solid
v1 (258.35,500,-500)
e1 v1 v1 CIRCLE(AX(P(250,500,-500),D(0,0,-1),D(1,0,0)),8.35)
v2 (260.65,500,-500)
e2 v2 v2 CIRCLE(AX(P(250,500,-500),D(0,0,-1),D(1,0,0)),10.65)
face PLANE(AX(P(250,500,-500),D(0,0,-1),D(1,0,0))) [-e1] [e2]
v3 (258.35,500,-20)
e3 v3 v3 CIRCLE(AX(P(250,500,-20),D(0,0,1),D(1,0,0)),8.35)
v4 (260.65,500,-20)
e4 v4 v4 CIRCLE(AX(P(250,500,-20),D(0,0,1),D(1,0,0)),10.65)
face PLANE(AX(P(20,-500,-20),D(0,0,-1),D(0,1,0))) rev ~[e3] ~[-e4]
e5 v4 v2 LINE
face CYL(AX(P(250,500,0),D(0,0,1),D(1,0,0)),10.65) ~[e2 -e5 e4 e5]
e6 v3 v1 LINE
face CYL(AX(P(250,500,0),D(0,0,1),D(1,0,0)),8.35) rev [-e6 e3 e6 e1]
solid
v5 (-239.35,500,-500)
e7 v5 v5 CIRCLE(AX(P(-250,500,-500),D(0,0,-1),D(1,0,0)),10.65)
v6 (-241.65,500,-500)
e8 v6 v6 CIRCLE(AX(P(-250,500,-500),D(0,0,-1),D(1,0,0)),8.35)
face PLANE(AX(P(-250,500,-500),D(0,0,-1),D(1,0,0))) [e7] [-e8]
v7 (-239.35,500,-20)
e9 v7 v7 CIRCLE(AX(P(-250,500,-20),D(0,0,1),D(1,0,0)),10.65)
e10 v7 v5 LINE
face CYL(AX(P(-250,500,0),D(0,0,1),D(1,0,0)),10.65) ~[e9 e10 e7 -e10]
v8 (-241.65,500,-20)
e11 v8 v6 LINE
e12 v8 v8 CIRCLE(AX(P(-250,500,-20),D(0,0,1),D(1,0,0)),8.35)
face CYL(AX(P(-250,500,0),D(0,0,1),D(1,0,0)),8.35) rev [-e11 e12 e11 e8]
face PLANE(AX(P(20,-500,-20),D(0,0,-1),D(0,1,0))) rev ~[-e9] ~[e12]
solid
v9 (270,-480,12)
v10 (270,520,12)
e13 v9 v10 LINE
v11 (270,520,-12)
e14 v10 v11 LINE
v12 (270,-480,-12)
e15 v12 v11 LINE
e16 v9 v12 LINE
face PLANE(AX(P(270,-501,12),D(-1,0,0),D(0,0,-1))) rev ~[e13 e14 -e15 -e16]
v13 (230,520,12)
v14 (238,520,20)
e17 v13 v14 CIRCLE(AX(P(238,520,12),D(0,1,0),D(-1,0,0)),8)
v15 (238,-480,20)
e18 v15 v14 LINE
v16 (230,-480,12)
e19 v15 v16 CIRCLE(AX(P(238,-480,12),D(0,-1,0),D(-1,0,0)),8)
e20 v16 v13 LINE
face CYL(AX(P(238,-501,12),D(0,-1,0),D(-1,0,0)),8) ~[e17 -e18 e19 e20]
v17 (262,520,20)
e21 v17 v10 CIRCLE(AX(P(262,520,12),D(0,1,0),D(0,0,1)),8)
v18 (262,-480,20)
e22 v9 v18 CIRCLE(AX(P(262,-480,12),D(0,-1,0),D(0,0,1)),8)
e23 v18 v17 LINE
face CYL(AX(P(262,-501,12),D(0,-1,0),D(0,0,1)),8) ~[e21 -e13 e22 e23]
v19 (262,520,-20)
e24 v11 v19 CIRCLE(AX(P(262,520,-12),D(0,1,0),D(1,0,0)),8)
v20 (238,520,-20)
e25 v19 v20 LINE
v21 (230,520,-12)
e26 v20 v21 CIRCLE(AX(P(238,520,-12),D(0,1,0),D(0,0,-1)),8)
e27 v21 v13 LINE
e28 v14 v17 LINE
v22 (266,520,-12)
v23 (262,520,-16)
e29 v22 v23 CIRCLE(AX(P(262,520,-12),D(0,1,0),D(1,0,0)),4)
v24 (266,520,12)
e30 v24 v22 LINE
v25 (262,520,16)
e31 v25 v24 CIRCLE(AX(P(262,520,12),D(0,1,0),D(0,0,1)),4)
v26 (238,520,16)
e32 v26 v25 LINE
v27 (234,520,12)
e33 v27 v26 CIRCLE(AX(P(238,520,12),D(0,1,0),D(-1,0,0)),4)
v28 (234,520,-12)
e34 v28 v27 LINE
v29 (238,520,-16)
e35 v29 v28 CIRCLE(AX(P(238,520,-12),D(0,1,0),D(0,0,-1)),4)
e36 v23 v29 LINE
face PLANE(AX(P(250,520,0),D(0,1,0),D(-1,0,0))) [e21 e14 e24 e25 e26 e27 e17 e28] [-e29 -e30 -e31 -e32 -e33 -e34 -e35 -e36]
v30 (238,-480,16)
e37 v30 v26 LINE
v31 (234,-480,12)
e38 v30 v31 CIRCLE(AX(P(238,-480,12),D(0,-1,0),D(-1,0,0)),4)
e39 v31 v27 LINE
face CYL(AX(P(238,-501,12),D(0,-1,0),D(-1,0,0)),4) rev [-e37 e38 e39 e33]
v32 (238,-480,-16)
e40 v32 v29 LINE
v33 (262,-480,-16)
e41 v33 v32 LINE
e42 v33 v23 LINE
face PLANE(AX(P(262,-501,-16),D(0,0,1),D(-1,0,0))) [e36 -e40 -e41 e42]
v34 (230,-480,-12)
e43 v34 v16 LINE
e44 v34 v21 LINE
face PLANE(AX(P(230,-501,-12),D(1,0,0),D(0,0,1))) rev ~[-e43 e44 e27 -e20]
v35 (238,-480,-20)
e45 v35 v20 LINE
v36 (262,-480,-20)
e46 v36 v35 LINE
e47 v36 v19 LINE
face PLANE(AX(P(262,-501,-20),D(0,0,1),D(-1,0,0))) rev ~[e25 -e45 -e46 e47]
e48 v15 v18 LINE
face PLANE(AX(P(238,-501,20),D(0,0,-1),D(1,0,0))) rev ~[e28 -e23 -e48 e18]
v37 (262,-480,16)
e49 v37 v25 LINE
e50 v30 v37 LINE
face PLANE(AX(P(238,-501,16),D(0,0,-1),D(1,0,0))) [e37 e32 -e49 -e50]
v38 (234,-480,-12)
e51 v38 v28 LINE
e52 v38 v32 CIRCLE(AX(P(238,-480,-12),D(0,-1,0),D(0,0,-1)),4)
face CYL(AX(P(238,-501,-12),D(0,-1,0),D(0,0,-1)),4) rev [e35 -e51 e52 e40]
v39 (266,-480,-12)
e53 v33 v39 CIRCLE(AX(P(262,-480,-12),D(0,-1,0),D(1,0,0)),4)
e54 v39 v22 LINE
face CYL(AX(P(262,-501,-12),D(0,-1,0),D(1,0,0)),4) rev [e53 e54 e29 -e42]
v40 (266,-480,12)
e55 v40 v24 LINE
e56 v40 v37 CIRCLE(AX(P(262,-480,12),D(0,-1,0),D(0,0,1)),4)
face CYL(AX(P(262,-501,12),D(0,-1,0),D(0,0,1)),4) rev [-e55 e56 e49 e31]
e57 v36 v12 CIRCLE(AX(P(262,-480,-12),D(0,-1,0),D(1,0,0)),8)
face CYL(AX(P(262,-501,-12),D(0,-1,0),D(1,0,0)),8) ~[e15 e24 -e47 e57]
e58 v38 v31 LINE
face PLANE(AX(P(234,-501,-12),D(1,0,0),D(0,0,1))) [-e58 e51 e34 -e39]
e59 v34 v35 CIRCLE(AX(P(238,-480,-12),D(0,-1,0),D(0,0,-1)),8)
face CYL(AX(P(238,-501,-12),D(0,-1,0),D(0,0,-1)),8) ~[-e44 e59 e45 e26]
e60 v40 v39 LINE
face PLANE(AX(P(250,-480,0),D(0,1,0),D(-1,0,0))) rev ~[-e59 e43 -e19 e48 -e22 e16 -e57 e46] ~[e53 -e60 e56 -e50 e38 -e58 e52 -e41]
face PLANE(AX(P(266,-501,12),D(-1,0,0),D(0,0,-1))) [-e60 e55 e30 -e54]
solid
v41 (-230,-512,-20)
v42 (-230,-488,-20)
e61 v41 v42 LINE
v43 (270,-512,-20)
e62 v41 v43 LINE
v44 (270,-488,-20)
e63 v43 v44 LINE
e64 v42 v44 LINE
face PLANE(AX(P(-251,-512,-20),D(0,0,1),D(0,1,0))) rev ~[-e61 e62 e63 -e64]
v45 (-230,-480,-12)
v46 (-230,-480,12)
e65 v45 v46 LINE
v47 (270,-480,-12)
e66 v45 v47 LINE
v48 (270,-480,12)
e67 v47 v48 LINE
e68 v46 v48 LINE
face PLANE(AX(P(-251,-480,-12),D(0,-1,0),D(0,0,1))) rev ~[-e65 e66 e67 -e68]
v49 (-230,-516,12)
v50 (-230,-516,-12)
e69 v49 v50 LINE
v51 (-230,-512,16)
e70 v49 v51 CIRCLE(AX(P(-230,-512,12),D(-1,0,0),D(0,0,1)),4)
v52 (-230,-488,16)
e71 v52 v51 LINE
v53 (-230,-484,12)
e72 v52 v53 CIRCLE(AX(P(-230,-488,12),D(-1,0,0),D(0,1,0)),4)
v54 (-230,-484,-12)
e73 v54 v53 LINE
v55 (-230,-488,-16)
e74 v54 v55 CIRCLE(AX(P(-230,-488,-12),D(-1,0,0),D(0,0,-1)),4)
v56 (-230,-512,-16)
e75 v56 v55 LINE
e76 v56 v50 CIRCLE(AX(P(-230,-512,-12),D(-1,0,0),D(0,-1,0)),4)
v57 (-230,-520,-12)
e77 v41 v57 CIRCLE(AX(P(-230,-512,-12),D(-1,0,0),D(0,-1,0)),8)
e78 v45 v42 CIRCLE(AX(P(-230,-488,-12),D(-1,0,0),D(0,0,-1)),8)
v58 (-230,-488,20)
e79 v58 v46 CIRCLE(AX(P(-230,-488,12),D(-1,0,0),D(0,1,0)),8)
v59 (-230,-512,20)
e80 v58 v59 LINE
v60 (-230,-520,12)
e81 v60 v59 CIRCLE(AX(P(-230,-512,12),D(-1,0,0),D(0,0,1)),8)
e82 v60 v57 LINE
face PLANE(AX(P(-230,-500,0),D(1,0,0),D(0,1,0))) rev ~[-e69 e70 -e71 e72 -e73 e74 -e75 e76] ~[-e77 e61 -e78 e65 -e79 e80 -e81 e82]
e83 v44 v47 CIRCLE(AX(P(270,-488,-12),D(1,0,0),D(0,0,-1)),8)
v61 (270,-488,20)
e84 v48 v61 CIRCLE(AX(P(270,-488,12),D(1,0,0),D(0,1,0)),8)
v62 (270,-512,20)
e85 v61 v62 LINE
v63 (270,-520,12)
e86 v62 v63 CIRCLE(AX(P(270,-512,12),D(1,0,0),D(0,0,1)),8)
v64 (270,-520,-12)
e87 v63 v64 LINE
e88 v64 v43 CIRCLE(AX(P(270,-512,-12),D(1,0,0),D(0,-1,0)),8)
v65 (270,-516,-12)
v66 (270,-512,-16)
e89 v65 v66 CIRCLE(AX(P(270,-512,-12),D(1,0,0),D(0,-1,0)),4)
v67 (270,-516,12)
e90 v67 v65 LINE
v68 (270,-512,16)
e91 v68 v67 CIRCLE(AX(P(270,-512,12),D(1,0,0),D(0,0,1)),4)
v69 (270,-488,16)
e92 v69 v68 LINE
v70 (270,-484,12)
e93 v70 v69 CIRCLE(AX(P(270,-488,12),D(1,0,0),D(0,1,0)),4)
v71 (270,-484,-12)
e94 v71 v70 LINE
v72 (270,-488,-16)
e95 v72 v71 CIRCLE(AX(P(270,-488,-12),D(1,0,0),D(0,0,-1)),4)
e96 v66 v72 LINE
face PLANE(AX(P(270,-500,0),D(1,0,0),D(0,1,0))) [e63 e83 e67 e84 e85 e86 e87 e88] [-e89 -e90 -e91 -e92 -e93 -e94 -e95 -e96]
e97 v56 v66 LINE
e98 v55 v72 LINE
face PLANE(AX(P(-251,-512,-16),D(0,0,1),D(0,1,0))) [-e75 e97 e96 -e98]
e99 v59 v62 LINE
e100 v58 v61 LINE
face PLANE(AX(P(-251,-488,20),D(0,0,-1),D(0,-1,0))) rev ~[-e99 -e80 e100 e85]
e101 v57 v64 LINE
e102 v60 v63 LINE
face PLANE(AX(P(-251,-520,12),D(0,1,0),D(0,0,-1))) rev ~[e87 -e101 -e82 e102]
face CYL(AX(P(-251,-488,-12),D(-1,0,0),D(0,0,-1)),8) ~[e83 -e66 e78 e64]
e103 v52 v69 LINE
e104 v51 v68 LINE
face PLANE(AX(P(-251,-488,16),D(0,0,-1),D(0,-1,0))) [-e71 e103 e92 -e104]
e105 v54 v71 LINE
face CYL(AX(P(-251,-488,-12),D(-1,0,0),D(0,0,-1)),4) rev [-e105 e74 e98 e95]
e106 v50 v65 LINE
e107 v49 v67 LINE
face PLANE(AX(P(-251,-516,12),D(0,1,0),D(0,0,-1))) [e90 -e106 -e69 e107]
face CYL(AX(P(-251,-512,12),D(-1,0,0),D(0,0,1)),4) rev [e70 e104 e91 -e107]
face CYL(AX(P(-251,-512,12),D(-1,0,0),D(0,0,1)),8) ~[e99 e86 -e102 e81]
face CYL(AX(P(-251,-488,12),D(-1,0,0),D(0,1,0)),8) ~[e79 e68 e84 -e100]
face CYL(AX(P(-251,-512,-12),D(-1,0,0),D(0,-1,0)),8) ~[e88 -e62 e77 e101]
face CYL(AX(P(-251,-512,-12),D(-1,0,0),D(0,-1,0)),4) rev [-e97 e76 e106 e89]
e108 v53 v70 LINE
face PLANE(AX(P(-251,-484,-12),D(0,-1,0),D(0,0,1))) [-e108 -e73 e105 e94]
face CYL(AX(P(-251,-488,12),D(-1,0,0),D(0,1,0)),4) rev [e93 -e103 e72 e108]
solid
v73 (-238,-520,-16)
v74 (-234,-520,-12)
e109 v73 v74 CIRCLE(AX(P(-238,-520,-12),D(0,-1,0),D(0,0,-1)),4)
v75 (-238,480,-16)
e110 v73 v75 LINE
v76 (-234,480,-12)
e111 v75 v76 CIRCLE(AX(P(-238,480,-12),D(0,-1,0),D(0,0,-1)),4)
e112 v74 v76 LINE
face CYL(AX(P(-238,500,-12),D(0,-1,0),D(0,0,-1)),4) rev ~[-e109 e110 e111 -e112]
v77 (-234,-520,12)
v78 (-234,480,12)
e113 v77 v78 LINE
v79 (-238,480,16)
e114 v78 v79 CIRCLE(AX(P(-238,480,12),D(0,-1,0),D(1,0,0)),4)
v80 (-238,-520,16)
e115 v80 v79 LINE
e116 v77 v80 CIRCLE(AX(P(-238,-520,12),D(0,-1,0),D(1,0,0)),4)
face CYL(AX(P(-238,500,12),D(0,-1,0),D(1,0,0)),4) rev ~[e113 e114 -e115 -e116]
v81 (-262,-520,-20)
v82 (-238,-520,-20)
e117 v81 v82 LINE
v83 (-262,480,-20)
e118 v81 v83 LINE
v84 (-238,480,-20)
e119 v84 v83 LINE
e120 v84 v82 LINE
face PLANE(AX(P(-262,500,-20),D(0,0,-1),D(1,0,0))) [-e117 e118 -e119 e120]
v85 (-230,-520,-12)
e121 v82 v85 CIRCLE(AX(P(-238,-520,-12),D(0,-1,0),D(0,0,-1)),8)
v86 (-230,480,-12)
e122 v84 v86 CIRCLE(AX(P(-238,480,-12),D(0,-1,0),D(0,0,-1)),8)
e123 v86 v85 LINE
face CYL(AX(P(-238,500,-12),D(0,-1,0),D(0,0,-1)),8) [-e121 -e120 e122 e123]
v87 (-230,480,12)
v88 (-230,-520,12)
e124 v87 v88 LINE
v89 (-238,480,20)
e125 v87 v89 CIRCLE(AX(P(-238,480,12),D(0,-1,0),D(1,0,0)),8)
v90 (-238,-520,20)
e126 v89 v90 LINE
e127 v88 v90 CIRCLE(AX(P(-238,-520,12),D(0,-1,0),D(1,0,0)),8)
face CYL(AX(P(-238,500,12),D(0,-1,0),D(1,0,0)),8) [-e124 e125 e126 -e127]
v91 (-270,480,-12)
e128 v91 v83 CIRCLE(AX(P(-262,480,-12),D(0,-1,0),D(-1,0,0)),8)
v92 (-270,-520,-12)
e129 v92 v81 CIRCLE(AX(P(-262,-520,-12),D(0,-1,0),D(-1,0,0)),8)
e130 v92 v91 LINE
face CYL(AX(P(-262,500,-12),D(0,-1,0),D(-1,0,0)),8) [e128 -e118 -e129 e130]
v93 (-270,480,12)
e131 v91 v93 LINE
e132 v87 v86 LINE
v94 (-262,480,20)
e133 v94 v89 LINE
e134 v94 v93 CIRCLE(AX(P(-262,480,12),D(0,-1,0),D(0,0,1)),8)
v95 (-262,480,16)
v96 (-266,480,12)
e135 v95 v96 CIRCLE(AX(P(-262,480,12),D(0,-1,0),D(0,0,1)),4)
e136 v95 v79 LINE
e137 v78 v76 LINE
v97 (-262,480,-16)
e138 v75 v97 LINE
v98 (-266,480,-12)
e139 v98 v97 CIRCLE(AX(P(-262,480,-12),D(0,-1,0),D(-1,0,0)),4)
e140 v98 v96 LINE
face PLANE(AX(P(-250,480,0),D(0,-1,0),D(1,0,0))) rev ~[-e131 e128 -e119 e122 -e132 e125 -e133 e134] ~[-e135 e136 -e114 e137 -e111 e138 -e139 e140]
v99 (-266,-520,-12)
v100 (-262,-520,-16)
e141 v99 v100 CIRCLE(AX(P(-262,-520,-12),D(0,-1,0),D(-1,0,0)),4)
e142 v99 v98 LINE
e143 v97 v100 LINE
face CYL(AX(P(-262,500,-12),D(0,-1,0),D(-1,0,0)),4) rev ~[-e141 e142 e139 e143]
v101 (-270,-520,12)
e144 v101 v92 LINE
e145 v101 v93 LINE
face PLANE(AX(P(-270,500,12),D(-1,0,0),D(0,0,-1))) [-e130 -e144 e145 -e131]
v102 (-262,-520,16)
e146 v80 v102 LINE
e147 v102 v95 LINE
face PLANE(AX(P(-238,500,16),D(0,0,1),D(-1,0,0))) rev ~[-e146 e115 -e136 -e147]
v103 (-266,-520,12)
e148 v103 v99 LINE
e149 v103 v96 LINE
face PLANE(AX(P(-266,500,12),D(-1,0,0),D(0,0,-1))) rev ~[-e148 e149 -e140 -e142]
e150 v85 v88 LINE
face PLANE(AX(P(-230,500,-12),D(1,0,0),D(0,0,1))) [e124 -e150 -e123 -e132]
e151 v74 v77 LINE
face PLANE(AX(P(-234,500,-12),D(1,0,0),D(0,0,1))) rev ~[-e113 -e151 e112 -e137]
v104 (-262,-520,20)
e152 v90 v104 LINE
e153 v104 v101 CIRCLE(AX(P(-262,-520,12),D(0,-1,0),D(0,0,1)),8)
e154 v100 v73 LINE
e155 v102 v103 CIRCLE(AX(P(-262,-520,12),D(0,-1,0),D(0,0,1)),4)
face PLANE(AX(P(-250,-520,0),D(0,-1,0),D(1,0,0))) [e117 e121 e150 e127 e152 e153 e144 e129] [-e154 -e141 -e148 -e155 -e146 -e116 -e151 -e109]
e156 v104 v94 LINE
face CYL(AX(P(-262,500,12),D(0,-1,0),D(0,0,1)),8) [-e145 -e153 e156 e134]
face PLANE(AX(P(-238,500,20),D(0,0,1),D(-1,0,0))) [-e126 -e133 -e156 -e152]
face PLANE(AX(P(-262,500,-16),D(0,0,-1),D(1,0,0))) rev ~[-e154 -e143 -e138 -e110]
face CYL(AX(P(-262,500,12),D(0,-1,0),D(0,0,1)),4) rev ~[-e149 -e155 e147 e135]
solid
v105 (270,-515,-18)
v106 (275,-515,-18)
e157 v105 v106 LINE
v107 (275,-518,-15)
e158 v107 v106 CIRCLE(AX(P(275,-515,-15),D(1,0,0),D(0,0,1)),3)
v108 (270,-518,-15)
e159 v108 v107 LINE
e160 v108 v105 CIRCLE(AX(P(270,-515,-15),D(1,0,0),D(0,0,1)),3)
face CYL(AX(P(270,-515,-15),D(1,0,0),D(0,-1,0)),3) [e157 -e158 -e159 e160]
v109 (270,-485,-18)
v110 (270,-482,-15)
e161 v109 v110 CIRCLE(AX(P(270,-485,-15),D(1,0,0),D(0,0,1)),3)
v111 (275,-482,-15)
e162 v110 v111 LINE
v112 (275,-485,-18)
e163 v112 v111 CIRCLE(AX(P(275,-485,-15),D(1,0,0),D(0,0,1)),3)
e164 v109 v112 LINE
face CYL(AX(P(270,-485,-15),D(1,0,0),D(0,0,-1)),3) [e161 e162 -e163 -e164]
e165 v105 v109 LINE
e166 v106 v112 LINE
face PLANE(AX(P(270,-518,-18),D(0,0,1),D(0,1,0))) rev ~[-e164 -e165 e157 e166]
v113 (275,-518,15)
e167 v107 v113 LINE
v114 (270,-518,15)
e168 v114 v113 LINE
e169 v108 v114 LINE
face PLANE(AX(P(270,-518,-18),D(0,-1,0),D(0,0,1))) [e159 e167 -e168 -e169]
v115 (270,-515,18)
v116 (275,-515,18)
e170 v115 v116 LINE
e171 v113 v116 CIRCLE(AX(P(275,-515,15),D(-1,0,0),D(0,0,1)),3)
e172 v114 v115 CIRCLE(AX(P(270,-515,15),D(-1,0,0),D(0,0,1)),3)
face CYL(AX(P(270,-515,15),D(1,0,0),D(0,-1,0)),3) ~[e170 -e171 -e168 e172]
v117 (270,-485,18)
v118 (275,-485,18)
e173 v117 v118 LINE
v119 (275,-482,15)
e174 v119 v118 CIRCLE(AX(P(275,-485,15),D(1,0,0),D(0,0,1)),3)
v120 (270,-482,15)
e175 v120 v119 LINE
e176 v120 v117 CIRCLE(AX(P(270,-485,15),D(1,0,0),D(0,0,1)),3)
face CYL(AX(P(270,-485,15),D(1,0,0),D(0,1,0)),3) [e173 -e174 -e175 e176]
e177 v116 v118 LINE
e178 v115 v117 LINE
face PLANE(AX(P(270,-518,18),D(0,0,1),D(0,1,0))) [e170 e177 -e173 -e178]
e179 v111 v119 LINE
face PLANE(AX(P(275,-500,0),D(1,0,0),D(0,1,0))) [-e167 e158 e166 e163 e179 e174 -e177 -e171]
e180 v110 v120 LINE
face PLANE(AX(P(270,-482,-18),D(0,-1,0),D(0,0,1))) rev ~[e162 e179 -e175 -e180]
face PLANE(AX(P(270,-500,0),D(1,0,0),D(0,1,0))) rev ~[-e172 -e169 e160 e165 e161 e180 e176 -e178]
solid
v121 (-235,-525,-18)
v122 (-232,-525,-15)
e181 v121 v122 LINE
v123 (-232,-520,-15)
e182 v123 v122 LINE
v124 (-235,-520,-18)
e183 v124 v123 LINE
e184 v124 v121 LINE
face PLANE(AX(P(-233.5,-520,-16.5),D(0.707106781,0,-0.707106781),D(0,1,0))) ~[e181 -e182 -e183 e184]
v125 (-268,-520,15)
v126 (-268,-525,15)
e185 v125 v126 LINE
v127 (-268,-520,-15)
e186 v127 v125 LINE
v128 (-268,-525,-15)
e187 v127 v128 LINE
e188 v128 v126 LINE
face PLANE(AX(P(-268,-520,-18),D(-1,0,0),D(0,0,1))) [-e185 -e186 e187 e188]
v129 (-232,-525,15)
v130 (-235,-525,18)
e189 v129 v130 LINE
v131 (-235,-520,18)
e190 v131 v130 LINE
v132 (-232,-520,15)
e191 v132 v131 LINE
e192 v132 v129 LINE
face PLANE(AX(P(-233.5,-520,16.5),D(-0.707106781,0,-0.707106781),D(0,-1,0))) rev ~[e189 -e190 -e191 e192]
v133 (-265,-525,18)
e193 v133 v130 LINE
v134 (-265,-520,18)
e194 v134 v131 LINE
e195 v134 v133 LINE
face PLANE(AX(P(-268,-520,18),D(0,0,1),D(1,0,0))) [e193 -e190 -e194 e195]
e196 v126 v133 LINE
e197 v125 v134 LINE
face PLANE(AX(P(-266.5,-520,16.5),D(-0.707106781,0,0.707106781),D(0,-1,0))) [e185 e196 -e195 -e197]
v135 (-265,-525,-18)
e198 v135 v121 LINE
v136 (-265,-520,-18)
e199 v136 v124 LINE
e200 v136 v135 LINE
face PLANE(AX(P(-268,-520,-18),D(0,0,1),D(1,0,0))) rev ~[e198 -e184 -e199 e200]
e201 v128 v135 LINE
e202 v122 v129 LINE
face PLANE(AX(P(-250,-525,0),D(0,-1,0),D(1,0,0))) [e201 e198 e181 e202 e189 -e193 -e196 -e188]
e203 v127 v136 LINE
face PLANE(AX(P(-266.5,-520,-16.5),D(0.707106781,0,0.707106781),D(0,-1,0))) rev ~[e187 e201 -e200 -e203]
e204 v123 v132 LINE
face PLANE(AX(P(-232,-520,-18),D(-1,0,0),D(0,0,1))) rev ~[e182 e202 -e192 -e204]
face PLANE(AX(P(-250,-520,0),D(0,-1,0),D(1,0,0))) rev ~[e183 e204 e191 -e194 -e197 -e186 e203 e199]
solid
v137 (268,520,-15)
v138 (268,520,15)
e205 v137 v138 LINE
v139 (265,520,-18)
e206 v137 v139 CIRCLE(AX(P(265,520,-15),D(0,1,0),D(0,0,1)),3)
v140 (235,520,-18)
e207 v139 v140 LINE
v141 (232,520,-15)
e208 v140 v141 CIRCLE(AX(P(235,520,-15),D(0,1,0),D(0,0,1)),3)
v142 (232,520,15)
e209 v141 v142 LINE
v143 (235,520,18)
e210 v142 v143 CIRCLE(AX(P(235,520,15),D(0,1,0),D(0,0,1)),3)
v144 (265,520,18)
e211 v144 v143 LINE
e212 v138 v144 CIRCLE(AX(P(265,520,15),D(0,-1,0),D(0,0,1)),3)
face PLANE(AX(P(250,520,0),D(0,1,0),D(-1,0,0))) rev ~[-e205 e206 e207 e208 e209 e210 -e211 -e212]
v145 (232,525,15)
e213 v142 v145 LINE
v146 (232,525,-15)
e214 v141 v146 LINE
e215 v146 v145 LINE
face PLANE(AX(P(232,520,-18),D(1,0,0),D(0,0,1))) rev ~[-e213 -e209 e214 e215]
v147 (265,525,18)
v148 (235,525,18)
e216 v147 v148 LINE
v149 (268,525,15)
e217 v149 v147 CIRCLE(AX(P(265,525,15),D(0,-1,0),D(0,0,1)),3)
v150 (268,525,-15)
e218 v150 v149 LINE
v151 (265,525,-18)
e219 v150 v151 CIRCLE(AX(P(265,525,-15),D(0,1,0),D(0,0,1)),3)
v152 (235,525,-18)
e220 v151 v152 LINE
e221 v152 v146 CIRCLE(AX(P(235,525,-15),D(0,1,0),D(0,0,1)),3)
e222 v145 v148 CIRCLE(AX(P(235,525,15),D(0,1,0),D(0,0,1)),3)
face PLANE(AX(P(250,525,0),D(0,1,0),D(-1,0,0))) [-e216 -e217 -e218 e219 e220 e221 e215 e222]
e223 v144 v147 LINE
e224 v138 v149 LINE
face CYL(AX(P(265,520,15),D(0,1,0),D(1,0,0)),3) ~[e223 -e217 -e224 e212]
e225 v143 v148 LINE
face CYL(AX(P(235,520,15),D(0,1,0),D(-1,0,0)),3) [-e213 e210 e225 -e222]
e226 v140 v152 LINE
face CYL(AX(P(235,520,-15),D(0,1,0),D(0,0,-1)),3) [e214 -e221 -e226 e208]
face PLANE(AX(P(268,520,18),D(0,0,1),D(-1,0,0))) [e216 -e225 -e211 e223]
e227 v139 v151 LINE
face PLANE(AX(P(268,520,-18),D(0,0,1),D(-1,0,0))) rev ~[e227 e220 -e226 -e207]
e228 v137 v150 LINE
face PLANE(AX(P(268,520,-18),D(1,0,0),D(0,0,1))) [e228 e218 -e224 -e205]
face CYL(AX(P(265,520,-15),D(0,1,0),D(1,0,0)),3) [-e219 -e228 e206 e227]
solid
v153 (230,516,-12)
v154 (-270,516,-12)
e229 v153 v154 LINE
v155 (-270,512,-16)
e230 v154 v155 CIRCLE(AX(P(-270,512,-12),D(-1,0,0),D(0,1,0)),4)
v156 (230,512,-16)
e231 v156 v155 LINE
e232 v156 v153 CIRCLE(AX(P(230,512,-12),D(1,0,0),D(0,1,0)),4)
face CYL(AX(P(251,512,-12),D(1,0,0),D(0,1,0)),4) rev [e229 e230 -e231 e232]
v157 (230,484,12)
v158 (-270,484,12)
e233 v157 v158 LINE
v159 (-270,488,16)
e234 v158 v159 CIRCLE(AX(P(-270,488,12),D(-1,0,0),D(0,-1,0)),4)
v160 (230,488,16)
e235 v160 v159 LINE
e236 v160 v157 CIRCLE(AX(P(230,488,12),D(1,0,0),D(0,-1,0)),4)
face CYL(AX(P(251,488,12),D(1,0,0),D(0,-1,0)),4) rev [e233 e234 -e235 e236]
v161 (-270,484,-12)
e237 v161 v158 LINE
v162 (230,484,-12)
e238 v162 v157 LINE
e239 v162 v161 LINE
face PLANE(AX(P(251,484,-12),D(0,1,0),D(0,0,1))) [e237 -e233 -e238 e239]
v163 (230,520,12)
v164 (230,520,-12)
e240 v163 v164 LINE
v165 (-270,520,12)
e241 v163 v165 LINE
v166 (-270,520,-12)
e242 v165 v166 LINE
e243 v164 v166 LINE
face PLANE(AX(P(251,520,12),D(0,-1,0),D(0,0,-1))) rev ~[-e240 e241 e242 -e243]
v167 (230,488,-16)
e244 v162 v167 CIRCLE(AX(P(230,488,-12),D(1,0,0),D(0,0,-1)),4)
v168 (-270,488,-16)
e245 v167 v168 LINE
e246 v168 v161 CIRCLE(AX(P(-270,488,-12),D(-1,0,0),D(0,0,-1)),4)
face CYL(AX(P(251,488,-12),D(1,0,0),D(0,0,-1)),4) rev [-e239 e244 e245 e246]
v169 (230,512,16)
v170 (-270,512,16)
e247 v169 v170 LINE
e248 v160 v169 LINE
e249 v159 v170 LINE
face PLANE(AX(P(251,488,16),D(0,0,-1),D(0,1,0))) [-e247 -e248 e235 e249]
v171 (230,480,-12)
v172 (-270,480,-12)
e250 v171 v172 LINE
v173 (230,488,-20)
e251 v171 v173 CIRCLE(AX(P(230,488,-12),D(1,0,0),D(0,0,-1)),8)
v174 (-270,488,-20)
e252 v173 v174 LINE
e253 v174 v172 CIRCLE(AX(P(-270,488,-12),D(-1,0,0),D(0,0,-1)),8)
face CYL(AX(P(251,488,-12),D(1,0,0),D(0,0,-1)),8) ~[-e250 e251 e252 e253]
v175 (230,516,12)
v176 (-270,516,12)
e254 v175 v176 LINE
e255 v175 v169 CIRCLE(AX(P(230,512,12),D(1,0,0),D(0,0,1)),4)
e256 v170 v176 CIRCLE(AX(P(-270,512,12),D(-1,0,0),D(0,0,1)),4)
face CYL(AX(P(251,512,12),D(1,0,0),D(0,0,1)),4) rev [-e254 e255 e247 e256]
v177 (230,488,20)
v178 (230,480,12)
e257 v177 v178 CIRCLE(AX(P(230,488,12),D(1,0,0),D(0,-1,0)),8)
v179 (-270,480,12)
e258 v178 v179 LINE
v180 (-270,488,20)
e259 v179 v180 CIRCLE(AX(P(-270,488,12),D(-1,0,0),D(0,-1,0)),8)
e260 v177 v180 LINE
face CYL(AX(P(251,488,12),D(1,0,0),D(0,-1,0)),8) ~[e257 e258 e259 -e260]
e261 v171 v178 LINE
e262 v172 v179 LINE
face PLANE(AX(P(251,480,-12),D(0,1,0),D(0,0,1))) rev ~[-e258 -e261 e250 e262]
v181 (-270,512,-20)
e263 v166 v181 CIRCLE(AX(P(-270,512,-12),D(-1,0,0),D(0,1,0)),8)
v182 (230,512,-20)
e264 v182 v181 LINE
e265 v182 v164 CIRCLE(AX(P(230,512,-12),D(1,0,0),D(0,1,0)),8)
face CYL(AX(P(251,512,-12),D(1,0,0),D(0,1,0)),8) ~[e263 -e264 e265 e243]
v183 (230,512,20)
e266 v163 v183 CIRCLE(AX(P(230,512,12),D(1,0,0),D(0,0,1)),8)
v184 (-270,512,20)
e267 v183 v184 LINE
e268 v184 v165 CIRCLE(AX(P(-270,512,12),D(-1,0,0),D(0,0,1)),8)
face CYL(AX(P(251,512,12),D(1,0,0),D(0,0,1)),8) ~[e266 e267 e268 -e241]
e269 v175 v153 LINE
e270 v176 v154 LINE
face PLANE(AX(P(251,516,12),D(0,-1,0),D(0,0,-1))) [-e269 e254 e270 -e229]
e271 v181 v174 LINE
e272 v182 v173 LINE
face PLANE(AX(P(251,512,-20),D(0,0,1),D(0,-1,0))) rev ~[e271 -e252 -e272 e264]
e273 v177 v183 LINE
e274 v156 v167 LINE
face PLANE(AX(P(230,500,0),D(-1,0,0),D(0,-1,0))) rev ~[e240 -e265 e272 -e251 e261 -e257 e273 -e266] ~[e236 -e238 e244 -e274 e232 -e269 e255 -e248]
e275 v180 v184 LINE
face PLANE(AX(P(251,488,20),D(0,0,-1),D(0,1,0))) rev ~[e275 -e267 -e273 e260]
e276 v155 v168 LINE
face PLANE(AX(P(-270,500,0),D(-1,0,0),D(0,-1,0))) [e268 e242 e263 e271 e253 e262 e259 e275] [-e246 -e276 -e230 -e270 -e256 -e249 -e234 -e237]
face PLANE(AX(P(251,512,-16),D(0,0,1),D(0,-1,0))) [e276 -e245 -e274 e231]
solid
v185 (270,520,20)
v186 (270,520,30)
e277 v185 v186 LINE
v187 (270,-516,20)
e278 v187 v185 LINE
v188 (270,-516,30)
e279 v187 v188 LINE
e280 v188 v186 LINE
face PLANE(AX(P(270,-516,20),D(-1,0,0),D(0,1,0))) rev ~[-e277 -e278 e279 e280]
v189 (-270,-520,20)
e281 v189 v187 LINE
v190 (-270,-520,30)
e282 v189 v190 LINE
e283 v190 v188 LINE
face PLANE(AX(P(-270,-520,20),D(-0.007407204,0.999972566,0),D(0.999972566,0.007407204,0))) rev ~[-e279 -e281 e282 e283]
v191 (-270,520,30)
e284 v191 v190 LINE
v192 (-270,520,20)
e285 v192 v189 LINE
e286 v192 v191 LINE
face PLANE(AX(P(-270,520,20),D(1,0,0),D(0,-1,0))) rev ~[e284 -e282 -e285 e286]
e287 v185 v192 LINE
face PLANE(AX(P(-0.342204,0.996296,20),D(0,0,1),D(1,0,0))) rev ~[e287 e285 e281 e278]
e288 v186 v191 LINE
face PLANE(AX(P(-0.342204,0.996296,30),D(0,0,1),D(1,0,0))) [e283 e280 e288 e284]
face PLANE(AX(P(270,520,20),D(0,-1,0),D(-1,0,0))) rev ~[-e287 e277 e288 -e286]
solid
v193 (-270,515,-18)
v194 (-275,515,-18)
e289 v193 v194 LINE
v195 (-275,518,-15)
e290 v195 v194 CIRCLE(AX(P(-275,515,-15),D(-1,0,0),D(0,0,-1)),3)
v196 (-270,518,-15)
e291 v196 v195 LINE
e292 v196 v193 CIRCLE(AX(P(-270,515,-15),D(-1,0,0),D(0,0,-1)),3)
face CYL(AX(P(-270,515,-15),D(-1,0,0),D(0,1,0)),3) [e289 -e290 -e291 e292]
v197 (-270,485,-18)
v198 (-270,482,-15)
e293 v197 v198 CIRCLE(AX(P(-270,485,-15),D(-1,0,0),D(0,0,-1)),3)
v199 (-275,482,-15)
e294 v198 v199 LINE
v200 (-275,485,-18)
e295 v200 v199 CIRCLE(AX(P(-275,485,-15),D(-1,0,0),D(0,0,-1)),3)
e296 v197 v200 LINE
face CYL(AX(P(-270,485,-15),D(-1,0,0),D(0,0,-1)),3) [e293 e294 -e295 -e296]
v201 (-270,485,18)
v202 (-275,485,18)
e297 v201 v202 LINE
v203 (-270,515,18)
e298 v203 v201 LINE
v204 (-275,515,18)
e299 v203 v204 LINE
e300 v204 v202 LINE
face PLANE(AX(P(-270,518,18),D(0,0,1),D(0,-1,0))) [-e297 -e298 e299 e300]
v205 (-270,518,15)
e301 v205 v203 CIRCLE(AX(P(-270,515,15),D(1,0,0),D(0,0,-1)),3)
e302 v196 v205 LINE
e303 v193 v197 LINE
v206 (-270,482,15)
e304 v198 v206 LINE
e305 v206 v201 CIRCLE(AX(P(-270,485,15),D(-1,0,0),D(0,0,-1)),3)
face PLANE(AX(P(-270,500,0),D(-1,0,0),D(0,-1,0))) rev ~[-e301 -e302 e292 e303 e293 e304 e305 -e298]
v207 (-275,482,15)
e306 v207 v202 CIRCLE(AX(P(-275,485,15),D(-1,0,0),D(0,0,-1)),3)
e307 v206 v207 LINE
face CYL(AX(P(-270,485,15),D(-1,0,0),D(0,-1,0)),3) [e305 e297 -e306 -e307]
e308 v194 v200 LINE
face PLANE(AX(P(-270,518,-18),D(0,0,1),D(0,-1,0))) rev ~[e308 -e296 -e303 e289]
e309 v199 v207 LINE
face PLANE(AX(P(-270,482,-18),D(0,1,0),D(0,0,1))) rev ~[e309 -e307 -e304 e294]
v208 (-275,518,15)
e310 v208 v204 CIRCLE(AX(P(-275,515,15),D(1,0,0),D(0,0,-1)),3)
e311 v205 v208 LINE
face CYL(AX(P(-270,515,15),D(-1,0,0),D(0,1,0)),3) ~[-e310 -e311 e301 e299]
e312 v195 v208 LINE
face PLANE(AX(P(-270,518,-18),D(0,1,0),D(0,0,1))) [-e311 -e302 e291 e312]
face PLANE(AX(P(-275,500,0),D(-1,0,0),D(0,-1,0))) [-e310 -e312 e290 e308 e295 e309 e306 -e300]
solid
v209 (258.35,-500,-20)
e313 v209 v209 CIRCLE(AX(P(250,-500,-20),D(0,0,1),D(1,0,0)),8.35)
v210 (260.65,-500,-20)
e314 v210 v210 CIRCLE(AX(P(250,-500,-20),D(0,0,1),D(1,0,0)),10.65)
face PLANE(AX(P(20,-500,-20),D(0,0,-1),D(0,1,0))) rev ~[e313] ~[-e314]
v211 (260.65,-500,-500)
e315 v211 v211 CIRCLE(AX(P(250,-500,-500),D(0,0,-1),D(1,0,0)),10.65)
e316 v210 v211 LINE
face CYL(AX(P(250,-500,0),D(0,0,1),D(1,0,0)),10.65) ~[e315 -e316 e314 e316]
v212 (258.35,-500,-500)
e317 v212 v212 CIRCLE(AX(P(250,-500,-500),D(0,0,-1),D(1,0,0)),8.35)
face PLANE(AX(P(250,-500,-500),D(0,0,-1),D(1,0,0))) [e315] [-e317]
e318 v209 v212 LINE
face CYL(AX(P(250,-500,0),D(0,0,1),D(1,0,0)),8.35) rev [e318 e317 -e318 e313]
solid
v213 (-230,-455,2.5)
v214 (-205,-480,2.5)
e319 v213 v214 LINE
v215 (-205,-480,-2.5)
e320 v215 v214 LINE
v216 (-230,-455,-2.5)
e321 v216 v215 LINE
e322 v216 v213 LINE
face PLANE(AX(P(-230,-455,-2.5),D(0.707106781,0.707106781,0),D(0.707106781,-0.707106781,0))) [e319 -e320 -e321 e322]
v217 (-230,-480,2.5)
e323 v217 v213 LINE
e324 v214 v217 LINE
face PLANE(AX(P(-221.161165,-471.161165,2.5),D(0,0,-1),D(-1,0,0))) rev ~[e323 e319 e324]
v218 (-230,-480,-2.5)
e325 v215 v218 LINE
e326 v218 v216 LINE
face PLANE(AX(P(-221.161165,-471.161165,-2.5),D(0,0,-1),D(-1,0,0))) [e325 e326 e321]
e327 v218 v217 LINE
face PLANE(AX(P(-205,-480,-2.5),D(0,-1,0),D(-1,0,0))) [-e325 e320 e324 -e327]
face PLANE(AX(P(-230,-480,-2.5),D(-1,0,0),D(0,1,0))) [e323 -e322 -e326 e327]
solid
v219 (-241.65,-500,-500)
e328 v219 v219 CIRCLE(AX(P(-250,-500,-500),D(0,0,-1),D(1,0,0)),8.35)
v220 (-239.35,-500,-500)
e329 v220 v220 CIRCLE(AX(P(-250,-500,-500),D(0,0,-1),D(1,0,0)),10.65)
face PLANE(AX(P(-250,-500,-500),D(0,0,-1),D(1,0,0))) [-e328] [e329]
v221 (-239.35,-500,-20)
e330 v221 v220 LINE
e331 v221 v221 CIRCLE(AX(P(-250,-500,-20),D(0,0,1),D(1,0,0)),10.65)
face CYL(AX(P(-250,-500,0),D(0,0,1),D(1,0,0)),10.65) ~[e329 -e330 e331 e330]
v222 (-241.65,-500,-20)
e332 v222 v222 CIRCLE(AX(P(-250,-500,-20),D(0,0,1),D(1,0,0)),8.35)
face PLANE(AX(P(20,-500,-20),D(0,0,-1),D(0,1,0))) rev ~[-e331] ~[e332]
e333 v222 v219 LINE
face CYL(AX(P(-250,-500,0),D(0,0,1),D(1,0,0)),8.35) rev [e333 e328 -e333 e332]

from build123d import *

# Parameters (mm, degrees)
STRUCTURAL_MEMBER1_DEPTH      = 1020
STRUCTURAL_MEMBER1_DEPTH_BACK = 1
STRUCTURAL_MEMBER1_2_DEPTH    = 521
STRUCTURAL_MEMBER1_3_DEPTH    = 1021
STRUCTURAL_MEMBER1_4_DEPTH    = 521
SKETCH11_R                    = 10.65
SKETCH11_R_2                  = 8.35
STRUCTURAL_MEMBER2_DEPTH      = 500
SKETCH11_ON_SEGMENT_2_R       = 10.65
SKETCH11_ON_SEGMENT_2_R_2     = 8.35
STRUCTURAL_MEMBER2_2_DEPTH    = 500
SKETCH11_ON_SEGMENT_3_R       = 10.65
SKETCH11_ON_SEGMENT_3_R_2     = 8.35
STRUCTURAL_MEMBER2_3_DEPTH    = 500
SKETCH11_ON_SEGMENT_4_R       = 10.65
SKETCH11_ON_SEGMENT_4_R_2     = 8.35
STRUCTURAL_MEMBER2_4_DEPTH    = 500
END_CAP1_WIDTH                = 36
END_CAP1_HEIGHT               = 36
END_CAP1_THICKNESS            = 5
END_CAP1_2_SIZE               = 3
GUSSET1_THICKNESS             = 5
BOSS_EXTRUDE1_DEPTH           = 10
END_CAP2_WIDTH                = 36
END_CAP2_HEIGHT               = 36
END_CAP2_THICKNESS            = 5
END_CAP2_2_R                  = 3
END_CAP3_WIDTH                = 36
END_CAP3_HEIGHT               = 36
END_CAP3_THICKNESS            = 5
END_CAP3_2_R                  = 3
END_CAP4_WIDTH                = 36
END_CAP4_HEIGHT               = 36
END_CAP4_THICKNESS            = 5
END_CAP4_2_R                  = 3


with BuildPart() as part:
    # Sketch1 → Structural Member1 (new, two sides)
    with BuildSketch(Plane(origin=(-250, 500, 0), x_dir=(1, 0, 0), z_dir=(0, -1, 0))) as structural_member1_sk:
        with BuildLine():
            Line((-12, -20), (12, -20))
            ThreePointArc((12, -20), (17.656854249, -17.656854249), (20, -12))
            Line((20, -12), (20, 12))
            ThreePointArc((20, 12), (17.656854249, 17.656854249), (12, 20))
            Line((12, 20), (-12, 20))
            ThreePointArc((-12, 20), (-17.656854249, 17.656854249), (-20, 12))
            Line((-20, 12), (-20, -12))
            ThreePointArc((-20, -12), (-17.656854249, -17.656854249), (-12, -20))
        make_face()
        with BuildLine():
            Line((-12, -16), (12, -16))
            ThreePointArc((12, -16), (14.828427125, -14.828427125), (16, -12))
            Line((16, -12), (16, 12))
            ThreePointArc((16, 12), (14.828427125, 14.828427125), (12, 16))
            Line((12, 16), (-12, 16))
            ThreePointArc((-12, 16), (-14.828427125, 14.828427125), (-16, 12))
            Line((-16, 12), (-16, -12))
            ThreePointArc((-16, -12), (-14.828427125, -14.828427125), (-12, -16))
        make_face(mode=Mode.SUBTRACT)
    extrude(amount=STRUCTURAL_MEMBER1_DEPTH)
    extrude(structural_member1_sk.sketch, amount=-STRUCTURAL_MEMBER1_DEPTH_BACK)

    # Structural Member1 end butt 1
    split(bisect_by=Plane(origin=(-250, 480, 0), x_dir=(1, 0, 0), z_dir=(0, -1, 0)), keep=Keep.TOP)


with BuildPart() as body_2:
    # Sketch1 on segment 2 (carried to segment 2) → Structural Member1 2 (new body)
    with BuildSketch(Plane(origin=(-251, -500, 0), x_dir=(0, 1, 0), z_dir=(1, 0, 0))):
        with BuildLine():
            Line((-12, -20), (12, -20))
            ThreePointArc((12, -20), (17.656854249, -17.656854249), (20, -12))
            Line((20, -12), (20, 12))
            ThreePointArc((20, 12), (17.656854249, 17.656854249), (12, 20))
            Line((12, 20), (-12, 20))
            ThreePointArc((-12, 20), (-17.656854249, 17.656854249), (-20, 12))
            Line((-20, 12), (-20, -12))
            ThreePointArc((-20, -12), (-17.656854249, -17.656854249), (-12, -20))
        make_face()
        with BuildLine():
            Line((-12, -16), (12, -16))
            ThreePointArc((12, -16), (14.828427125, -14.828427125), (16, -12))
            Line((16, -12), (16, 12))
            ThreePointArc((16, 12), (14.828427125, 14.828427125), (12, 16))
            Line((12, 16), (-12, 16))
            ThreePointArc((-12, 16), (-14.828427125, 14.828427125), (-16, 12))
            Line((-16, 12), (-16, -12))
            ThreePointArc((-16, -12), (-14.828427125, -14.828427125), (-12, -16))
        make_face(mode=Mode.SUBTRACT)
    extrude(amount=STRUCTURAL_MEMBER1_2_DEPTH)

    # Structural Member1 2 end butt 1
    split(bisect_by=Plane(origin=(-230, -500, 0), x_dir=(0, 1, 0), z_dir=(1, 0, 0)), keep=Keep.TOP)


with BuildPart() as body_3:
    # Sketch1 on segment 3 (carried to segment 3) → Structural Member1 3 (new body)
    with BuildSketch(Plane(origin=(250, -501, 0), x_dir=(-1, 0, 0), z_dir=(0, 1, 0))):
        with BuildLine():
            Line((-12, -20), (12, -20))
            ThreePointArc((12, -20), (17.656854249, -17.656854249), (20, -12))
            Line((20, -12), (20, 12))
            ThreePointArc((20, 12), (17.656854249, 17.656854249), (12, 20))
            Line((12, 20), (-12, 20))
            ThreePointArc((-12, 20), (-17.656854249, 17.656854249), (-20, 12))
            Line((-20, 12), (-20, -12))
            ThreePointArc((-20, -12), (-17.656854249, -17.656854249), (-12, -20))
        make_face()
        with BuildLine():
            Line((-12, -16), (12, -16))
            ThreePointArc((12, -16), (14.828427125, -14.828427125), (16, -12))
            Line((16, -12), (16, 12))
            ThreePointArc((16, 12), (14.828427125, 14.828427125), (12, 16))
            Line((12, 16), (-12, 16))
            ThreePointArc((-12, 16), (-14.828427125, 14.828427125), (-16, 12))
            Line((-16, 12), (-16, -12))
            ThreePointArc((-16, -12), (-14.828427125, -14.828427125), (-12, -16))
        make_face(mode=Mode.SUBTRACT)
    extrude(amount=STRUCTURAL_MEMBER1_3_DEPTH)

    # Structural Member1 3 end butt 1
    split(bisect_by=Plane(origin=(250, -480, 0), x_dir=(-1, 0, 0), z_dir=(0, 1, 0)), keep=Keep.TOP)


with BuildPart() as body_4:
    # Sketch1 on segment 4 (carried to segment 4) → Structural Member1 4 (new body)
    with BuildSketch(Plane(origin=(251, 500, 0), x_dir=(0, -1, 0), z_dir=(-1, 0, 0))):
        with BuildLine():
            Line((-12, -20), (12, -20))
            ThreePointArc((12, -20), (17.656854249, -17.656854249), (20, -12))
            Line((20, -12), (20, 12))
            ThreePointArc((20, 12), (17.656854249, 17.656854249), (12, 20))
            Line((12, 20), (-12, 20))
            ThreePointArc((-12, 20), (-17.656854249, 17.656854249), (-20, 12))
            Line((-20, 12), (-20, -12))
            ThreePointArc((-20, -12), (-17.656854249, -17.656854249), (-12, -20))
        make_face()
        with BuildLine():
            Line((-12, -16), (12, -16))
            ThreePointArc((12, -16), (14.828427125, -14.828427125), (16, -12))
            Line((16, -12), (16, 12))
            ThreePointArc((16, 12), (14.828427125, 14.828427125), (12, 16))
            Line((12, 16), (-12, 16))
            ThreePointArc((-12, 16), (-14.828427125, 14.828427125), (-16, 12))
            Line((-16, 12), (-16, -12))
            ThreePointArc((-16, -12), (-14.828427125, -14.828427125), (-12, -16))
        make_face(mode=Mode.SUBTRACT)
    extrude(amount=STRUCTURAL_MEMBER1_4_DEPTH)

    # Structural Member1 4 end butt 1
    split(bisect_by=Plane(origin=(230, 500, 0), x_dir=(0, -1, 0), z_dir=(-1, 0, 0)), keep=Keep.TOP)


with BuildPart() as body_5:
    # Sketch11 → Structural Member2 (new body)
    with BuildSketch(Plane(origin=(-250, -500, 0), x_dir=(1, 0, 0), z_dir=(0, 0, -1))):
        Circle(SKETCH11_R)
        Circle(SKETCH11_R_2, mode=Mode.SUBTRACT)
    extrude(amount=STRUCTURAL_MEMBER2_DEPTH)

    # Trim/Extend1
    split(bisect_by=Plane(origin=(20, -500, -20), x_dir=(0, 1, 0), z_dir=(0, 0, -1)), keep=Keep.TOP)


with BuildPart() as body_6:
    # Sketch11 on segment 2 (carried to segment 2) → Structural Member2 2 (new body)
    with BuildSketch(Plane(origin=(250, -500, 0), x_dir=(1, 0, 0), z_dir=(0, 0, -1))):
        Circle(SKETCH11_ON_SEGMENT_2_R)
        Circle(SKETCH11_ON_SEGMENT_2_R_2, mode=Mode.SUBTRACT)
    extrude(amount=STRUCTURAL_MEMBER2_2_DEPTH)

    # Trim/Extend1
    split(bisect_by=Plane(origin=(20, -500, -20), x_dir=(0, 1, 0), z_dir=(0, 0, -1)), keep=Keep.TOP)


with BuildPart() as body_7:
    # Sketch11 on segment 3 (carried to segment 3) → Structural Member2 3 (new body)
    with BuildSketch(Plane(origin=(-250, 500, 0), x_dir=(1, 0, 0), z_dir=(0, 0, -1))):
        Circle(SKETCH11_ON_SEGMENT_3_R)
        Circle(SKETCH11_ON_SEGMENT_3_R_2, mode=Mode.SUBTRACT)
    extrude(amount=STRUCTURAL_MEMBER2_3_DEPTH)

    # Trim/Extend1
    split(bisect_by=Plane(origin=(20, -500, -20), x_dir=(0, 1, 0), z_dir=(0, 0, -1)), keep=Keep.TOP)


with BuildPart() as body_8:
    # Sketch11 on segment 4 (carried to segment 4) → Structural Member2 4 (new body)
    with BuildSketch(Plane(origin=(250, 500, 0), x_dir=(1, 0, 0), z_dir=(0, 0, -1))):
        Circle(SKETCH11_ON_SEGMENT_4_R)
        Circle(SKETCH11_ON_SEGMENT_4_R_2, mode=Mode.SUBTRACT)
    extrude(amount=STRUCTURAL_MEMBER2_4_DEPTH)

    # Trim/Extend1
    split(bisect_by=Plane(origin=(20, -500, -20), x_dir=(0, 1, 0), z_dir=(0, 0, -1)), keep=Keep.TOP)


with BuildPart() as body_9:
    # End cap1: an end cap: a rectangular plate 5.0 thick over the member's open end
    with BuildSketch(Plane(origin=(-250, -520, 0), x_dir=(1, 0, 0), z_dir=(0, -1, 0))):
        Rectangle(END_CAP1_WIDTH, END_CAP1_HEIGHT)
    extrude(amount=END_CAP1_THICKNESS)

    # End cap1 2
    end_cap1_2_edges = [body_9.edges().sort_by_distance(p)[0] for p in [
        (-268, -522.5, -18),
        (-268, -522.5, 18),
        (-232, -522.5, -18),
        (-232, -522.5, 18),
    ]]
    chamfer(end_cap1_2_edges, length=END_CAP1_2_SIZE)


with BuildPart() as body_10:
    # Gusset1: a gusset: a plate 5.0 thick in the corner of two members, its outline drawn in place
    gusset1_outline = Wire([Line((-230, -480, -2.5), (-230, -455, -2.5)), Line((-230, -455, -2.5), (-205, -480, -2.5)), Line((-205, -480, -2.5), (-230, -480, -2.5))])
    add(extrude(Face(gusset1_outline), amount=GUSSET1_THICKNESS, dir=(0, 0, 1)))


with BuildPart() as body_11:
    # Sketch13 → Boss-Extrude1 (new body)
    with BuildSketch(Plane.XY.offset(20)):
        Polygon((-270, -520), (270, -516), (270, 520), (-270, 520), align=None)
    extrude(amount=BOSS_EXTRUDE1_DEPTH)


with BuildPart() as body_12:
    # End cap2: an end cap: a rectangular plate 5.0 thick over the member's open end
    with BuildSketch(Plane(origin=(270, -500, 0), x_dir=(0, 1, 0), z_dir=(1, 0, 0))):
        Rectangle(END_CAP2_WIDTH, END_CAP2_HEIGHT)
    extrude(amount=END_CAP2_THICKNESS)

    # End cap2 2
    end_cap2_2_edges = [body_12.edges().sort_by_distance(p)[0] for p in [
        (272.5, -518, -18),
        (272.5, -518, 18),
        (272.5, -482, -18),
        (272.5, -482, 18),
    ]]
    fillet(end_cap2_2_edges, radius=END_CAP2_2_R)


with BuildPart() as body_13:
    # End cap3: an end cap: a rectangular plate 5.0 thick over the member's open end
    with BuildSketch(Plane(origin=(250, 520, 0), x_dir=(-1, 0, 0), z_dir=(0, 1, 0))):
        Rectangle(END_CAP3_WIDTH, END_CAP3_HEIGHT)
    extrude(amount=END_CAP3_THICKNESS)

    # End cap3 2
    end_cap3_2_edges = [body_13.edges().sort_by_distance(p)[0] for p in [
        (268, 522.5, -18),
        (268, 522.5, 18),
        (232, 522.5, -18),
        (232, 522.5, 18),
    ]]
    fillet(end_cap3_2_edges, radius=END_CAP3_2_R)


with BuildPart() as body_14:
    # End cap4: an end cap: a rectangular plate 5.0 thick over the member's open end
    with BuildSketch(Plane(origin=(-270, 500, 0), x_dir=(0, -1, 0), z_dir=(-1, 0, 0))):
        Rectangle(END_CAP4_WIDTH, END_CAP4_HEIGHT)
    extrude(amount=END_CAP4_THICKNESS)

    # End cap4 2
    end_cap4_2_edges = [body_14.edges().sort_by_distance(p)[0] for p in [
        (-272.5, 518, -18),
        (-272.5, 518, 18),
        (-272.5, 482, -18),
        (-272.5, 482, 18),
    ]]
    fillet(end_cap4_2_edges, radius=END_CAP4_2_R)


solid = Compound([part.part, body_2.part, body_3.part, body_4.part, body_5.part, body_6.part, body_7.part, body_8.part, body_9.part, body_10.part, body_11.part, body_12.part, body_13.part, body_14.part])
